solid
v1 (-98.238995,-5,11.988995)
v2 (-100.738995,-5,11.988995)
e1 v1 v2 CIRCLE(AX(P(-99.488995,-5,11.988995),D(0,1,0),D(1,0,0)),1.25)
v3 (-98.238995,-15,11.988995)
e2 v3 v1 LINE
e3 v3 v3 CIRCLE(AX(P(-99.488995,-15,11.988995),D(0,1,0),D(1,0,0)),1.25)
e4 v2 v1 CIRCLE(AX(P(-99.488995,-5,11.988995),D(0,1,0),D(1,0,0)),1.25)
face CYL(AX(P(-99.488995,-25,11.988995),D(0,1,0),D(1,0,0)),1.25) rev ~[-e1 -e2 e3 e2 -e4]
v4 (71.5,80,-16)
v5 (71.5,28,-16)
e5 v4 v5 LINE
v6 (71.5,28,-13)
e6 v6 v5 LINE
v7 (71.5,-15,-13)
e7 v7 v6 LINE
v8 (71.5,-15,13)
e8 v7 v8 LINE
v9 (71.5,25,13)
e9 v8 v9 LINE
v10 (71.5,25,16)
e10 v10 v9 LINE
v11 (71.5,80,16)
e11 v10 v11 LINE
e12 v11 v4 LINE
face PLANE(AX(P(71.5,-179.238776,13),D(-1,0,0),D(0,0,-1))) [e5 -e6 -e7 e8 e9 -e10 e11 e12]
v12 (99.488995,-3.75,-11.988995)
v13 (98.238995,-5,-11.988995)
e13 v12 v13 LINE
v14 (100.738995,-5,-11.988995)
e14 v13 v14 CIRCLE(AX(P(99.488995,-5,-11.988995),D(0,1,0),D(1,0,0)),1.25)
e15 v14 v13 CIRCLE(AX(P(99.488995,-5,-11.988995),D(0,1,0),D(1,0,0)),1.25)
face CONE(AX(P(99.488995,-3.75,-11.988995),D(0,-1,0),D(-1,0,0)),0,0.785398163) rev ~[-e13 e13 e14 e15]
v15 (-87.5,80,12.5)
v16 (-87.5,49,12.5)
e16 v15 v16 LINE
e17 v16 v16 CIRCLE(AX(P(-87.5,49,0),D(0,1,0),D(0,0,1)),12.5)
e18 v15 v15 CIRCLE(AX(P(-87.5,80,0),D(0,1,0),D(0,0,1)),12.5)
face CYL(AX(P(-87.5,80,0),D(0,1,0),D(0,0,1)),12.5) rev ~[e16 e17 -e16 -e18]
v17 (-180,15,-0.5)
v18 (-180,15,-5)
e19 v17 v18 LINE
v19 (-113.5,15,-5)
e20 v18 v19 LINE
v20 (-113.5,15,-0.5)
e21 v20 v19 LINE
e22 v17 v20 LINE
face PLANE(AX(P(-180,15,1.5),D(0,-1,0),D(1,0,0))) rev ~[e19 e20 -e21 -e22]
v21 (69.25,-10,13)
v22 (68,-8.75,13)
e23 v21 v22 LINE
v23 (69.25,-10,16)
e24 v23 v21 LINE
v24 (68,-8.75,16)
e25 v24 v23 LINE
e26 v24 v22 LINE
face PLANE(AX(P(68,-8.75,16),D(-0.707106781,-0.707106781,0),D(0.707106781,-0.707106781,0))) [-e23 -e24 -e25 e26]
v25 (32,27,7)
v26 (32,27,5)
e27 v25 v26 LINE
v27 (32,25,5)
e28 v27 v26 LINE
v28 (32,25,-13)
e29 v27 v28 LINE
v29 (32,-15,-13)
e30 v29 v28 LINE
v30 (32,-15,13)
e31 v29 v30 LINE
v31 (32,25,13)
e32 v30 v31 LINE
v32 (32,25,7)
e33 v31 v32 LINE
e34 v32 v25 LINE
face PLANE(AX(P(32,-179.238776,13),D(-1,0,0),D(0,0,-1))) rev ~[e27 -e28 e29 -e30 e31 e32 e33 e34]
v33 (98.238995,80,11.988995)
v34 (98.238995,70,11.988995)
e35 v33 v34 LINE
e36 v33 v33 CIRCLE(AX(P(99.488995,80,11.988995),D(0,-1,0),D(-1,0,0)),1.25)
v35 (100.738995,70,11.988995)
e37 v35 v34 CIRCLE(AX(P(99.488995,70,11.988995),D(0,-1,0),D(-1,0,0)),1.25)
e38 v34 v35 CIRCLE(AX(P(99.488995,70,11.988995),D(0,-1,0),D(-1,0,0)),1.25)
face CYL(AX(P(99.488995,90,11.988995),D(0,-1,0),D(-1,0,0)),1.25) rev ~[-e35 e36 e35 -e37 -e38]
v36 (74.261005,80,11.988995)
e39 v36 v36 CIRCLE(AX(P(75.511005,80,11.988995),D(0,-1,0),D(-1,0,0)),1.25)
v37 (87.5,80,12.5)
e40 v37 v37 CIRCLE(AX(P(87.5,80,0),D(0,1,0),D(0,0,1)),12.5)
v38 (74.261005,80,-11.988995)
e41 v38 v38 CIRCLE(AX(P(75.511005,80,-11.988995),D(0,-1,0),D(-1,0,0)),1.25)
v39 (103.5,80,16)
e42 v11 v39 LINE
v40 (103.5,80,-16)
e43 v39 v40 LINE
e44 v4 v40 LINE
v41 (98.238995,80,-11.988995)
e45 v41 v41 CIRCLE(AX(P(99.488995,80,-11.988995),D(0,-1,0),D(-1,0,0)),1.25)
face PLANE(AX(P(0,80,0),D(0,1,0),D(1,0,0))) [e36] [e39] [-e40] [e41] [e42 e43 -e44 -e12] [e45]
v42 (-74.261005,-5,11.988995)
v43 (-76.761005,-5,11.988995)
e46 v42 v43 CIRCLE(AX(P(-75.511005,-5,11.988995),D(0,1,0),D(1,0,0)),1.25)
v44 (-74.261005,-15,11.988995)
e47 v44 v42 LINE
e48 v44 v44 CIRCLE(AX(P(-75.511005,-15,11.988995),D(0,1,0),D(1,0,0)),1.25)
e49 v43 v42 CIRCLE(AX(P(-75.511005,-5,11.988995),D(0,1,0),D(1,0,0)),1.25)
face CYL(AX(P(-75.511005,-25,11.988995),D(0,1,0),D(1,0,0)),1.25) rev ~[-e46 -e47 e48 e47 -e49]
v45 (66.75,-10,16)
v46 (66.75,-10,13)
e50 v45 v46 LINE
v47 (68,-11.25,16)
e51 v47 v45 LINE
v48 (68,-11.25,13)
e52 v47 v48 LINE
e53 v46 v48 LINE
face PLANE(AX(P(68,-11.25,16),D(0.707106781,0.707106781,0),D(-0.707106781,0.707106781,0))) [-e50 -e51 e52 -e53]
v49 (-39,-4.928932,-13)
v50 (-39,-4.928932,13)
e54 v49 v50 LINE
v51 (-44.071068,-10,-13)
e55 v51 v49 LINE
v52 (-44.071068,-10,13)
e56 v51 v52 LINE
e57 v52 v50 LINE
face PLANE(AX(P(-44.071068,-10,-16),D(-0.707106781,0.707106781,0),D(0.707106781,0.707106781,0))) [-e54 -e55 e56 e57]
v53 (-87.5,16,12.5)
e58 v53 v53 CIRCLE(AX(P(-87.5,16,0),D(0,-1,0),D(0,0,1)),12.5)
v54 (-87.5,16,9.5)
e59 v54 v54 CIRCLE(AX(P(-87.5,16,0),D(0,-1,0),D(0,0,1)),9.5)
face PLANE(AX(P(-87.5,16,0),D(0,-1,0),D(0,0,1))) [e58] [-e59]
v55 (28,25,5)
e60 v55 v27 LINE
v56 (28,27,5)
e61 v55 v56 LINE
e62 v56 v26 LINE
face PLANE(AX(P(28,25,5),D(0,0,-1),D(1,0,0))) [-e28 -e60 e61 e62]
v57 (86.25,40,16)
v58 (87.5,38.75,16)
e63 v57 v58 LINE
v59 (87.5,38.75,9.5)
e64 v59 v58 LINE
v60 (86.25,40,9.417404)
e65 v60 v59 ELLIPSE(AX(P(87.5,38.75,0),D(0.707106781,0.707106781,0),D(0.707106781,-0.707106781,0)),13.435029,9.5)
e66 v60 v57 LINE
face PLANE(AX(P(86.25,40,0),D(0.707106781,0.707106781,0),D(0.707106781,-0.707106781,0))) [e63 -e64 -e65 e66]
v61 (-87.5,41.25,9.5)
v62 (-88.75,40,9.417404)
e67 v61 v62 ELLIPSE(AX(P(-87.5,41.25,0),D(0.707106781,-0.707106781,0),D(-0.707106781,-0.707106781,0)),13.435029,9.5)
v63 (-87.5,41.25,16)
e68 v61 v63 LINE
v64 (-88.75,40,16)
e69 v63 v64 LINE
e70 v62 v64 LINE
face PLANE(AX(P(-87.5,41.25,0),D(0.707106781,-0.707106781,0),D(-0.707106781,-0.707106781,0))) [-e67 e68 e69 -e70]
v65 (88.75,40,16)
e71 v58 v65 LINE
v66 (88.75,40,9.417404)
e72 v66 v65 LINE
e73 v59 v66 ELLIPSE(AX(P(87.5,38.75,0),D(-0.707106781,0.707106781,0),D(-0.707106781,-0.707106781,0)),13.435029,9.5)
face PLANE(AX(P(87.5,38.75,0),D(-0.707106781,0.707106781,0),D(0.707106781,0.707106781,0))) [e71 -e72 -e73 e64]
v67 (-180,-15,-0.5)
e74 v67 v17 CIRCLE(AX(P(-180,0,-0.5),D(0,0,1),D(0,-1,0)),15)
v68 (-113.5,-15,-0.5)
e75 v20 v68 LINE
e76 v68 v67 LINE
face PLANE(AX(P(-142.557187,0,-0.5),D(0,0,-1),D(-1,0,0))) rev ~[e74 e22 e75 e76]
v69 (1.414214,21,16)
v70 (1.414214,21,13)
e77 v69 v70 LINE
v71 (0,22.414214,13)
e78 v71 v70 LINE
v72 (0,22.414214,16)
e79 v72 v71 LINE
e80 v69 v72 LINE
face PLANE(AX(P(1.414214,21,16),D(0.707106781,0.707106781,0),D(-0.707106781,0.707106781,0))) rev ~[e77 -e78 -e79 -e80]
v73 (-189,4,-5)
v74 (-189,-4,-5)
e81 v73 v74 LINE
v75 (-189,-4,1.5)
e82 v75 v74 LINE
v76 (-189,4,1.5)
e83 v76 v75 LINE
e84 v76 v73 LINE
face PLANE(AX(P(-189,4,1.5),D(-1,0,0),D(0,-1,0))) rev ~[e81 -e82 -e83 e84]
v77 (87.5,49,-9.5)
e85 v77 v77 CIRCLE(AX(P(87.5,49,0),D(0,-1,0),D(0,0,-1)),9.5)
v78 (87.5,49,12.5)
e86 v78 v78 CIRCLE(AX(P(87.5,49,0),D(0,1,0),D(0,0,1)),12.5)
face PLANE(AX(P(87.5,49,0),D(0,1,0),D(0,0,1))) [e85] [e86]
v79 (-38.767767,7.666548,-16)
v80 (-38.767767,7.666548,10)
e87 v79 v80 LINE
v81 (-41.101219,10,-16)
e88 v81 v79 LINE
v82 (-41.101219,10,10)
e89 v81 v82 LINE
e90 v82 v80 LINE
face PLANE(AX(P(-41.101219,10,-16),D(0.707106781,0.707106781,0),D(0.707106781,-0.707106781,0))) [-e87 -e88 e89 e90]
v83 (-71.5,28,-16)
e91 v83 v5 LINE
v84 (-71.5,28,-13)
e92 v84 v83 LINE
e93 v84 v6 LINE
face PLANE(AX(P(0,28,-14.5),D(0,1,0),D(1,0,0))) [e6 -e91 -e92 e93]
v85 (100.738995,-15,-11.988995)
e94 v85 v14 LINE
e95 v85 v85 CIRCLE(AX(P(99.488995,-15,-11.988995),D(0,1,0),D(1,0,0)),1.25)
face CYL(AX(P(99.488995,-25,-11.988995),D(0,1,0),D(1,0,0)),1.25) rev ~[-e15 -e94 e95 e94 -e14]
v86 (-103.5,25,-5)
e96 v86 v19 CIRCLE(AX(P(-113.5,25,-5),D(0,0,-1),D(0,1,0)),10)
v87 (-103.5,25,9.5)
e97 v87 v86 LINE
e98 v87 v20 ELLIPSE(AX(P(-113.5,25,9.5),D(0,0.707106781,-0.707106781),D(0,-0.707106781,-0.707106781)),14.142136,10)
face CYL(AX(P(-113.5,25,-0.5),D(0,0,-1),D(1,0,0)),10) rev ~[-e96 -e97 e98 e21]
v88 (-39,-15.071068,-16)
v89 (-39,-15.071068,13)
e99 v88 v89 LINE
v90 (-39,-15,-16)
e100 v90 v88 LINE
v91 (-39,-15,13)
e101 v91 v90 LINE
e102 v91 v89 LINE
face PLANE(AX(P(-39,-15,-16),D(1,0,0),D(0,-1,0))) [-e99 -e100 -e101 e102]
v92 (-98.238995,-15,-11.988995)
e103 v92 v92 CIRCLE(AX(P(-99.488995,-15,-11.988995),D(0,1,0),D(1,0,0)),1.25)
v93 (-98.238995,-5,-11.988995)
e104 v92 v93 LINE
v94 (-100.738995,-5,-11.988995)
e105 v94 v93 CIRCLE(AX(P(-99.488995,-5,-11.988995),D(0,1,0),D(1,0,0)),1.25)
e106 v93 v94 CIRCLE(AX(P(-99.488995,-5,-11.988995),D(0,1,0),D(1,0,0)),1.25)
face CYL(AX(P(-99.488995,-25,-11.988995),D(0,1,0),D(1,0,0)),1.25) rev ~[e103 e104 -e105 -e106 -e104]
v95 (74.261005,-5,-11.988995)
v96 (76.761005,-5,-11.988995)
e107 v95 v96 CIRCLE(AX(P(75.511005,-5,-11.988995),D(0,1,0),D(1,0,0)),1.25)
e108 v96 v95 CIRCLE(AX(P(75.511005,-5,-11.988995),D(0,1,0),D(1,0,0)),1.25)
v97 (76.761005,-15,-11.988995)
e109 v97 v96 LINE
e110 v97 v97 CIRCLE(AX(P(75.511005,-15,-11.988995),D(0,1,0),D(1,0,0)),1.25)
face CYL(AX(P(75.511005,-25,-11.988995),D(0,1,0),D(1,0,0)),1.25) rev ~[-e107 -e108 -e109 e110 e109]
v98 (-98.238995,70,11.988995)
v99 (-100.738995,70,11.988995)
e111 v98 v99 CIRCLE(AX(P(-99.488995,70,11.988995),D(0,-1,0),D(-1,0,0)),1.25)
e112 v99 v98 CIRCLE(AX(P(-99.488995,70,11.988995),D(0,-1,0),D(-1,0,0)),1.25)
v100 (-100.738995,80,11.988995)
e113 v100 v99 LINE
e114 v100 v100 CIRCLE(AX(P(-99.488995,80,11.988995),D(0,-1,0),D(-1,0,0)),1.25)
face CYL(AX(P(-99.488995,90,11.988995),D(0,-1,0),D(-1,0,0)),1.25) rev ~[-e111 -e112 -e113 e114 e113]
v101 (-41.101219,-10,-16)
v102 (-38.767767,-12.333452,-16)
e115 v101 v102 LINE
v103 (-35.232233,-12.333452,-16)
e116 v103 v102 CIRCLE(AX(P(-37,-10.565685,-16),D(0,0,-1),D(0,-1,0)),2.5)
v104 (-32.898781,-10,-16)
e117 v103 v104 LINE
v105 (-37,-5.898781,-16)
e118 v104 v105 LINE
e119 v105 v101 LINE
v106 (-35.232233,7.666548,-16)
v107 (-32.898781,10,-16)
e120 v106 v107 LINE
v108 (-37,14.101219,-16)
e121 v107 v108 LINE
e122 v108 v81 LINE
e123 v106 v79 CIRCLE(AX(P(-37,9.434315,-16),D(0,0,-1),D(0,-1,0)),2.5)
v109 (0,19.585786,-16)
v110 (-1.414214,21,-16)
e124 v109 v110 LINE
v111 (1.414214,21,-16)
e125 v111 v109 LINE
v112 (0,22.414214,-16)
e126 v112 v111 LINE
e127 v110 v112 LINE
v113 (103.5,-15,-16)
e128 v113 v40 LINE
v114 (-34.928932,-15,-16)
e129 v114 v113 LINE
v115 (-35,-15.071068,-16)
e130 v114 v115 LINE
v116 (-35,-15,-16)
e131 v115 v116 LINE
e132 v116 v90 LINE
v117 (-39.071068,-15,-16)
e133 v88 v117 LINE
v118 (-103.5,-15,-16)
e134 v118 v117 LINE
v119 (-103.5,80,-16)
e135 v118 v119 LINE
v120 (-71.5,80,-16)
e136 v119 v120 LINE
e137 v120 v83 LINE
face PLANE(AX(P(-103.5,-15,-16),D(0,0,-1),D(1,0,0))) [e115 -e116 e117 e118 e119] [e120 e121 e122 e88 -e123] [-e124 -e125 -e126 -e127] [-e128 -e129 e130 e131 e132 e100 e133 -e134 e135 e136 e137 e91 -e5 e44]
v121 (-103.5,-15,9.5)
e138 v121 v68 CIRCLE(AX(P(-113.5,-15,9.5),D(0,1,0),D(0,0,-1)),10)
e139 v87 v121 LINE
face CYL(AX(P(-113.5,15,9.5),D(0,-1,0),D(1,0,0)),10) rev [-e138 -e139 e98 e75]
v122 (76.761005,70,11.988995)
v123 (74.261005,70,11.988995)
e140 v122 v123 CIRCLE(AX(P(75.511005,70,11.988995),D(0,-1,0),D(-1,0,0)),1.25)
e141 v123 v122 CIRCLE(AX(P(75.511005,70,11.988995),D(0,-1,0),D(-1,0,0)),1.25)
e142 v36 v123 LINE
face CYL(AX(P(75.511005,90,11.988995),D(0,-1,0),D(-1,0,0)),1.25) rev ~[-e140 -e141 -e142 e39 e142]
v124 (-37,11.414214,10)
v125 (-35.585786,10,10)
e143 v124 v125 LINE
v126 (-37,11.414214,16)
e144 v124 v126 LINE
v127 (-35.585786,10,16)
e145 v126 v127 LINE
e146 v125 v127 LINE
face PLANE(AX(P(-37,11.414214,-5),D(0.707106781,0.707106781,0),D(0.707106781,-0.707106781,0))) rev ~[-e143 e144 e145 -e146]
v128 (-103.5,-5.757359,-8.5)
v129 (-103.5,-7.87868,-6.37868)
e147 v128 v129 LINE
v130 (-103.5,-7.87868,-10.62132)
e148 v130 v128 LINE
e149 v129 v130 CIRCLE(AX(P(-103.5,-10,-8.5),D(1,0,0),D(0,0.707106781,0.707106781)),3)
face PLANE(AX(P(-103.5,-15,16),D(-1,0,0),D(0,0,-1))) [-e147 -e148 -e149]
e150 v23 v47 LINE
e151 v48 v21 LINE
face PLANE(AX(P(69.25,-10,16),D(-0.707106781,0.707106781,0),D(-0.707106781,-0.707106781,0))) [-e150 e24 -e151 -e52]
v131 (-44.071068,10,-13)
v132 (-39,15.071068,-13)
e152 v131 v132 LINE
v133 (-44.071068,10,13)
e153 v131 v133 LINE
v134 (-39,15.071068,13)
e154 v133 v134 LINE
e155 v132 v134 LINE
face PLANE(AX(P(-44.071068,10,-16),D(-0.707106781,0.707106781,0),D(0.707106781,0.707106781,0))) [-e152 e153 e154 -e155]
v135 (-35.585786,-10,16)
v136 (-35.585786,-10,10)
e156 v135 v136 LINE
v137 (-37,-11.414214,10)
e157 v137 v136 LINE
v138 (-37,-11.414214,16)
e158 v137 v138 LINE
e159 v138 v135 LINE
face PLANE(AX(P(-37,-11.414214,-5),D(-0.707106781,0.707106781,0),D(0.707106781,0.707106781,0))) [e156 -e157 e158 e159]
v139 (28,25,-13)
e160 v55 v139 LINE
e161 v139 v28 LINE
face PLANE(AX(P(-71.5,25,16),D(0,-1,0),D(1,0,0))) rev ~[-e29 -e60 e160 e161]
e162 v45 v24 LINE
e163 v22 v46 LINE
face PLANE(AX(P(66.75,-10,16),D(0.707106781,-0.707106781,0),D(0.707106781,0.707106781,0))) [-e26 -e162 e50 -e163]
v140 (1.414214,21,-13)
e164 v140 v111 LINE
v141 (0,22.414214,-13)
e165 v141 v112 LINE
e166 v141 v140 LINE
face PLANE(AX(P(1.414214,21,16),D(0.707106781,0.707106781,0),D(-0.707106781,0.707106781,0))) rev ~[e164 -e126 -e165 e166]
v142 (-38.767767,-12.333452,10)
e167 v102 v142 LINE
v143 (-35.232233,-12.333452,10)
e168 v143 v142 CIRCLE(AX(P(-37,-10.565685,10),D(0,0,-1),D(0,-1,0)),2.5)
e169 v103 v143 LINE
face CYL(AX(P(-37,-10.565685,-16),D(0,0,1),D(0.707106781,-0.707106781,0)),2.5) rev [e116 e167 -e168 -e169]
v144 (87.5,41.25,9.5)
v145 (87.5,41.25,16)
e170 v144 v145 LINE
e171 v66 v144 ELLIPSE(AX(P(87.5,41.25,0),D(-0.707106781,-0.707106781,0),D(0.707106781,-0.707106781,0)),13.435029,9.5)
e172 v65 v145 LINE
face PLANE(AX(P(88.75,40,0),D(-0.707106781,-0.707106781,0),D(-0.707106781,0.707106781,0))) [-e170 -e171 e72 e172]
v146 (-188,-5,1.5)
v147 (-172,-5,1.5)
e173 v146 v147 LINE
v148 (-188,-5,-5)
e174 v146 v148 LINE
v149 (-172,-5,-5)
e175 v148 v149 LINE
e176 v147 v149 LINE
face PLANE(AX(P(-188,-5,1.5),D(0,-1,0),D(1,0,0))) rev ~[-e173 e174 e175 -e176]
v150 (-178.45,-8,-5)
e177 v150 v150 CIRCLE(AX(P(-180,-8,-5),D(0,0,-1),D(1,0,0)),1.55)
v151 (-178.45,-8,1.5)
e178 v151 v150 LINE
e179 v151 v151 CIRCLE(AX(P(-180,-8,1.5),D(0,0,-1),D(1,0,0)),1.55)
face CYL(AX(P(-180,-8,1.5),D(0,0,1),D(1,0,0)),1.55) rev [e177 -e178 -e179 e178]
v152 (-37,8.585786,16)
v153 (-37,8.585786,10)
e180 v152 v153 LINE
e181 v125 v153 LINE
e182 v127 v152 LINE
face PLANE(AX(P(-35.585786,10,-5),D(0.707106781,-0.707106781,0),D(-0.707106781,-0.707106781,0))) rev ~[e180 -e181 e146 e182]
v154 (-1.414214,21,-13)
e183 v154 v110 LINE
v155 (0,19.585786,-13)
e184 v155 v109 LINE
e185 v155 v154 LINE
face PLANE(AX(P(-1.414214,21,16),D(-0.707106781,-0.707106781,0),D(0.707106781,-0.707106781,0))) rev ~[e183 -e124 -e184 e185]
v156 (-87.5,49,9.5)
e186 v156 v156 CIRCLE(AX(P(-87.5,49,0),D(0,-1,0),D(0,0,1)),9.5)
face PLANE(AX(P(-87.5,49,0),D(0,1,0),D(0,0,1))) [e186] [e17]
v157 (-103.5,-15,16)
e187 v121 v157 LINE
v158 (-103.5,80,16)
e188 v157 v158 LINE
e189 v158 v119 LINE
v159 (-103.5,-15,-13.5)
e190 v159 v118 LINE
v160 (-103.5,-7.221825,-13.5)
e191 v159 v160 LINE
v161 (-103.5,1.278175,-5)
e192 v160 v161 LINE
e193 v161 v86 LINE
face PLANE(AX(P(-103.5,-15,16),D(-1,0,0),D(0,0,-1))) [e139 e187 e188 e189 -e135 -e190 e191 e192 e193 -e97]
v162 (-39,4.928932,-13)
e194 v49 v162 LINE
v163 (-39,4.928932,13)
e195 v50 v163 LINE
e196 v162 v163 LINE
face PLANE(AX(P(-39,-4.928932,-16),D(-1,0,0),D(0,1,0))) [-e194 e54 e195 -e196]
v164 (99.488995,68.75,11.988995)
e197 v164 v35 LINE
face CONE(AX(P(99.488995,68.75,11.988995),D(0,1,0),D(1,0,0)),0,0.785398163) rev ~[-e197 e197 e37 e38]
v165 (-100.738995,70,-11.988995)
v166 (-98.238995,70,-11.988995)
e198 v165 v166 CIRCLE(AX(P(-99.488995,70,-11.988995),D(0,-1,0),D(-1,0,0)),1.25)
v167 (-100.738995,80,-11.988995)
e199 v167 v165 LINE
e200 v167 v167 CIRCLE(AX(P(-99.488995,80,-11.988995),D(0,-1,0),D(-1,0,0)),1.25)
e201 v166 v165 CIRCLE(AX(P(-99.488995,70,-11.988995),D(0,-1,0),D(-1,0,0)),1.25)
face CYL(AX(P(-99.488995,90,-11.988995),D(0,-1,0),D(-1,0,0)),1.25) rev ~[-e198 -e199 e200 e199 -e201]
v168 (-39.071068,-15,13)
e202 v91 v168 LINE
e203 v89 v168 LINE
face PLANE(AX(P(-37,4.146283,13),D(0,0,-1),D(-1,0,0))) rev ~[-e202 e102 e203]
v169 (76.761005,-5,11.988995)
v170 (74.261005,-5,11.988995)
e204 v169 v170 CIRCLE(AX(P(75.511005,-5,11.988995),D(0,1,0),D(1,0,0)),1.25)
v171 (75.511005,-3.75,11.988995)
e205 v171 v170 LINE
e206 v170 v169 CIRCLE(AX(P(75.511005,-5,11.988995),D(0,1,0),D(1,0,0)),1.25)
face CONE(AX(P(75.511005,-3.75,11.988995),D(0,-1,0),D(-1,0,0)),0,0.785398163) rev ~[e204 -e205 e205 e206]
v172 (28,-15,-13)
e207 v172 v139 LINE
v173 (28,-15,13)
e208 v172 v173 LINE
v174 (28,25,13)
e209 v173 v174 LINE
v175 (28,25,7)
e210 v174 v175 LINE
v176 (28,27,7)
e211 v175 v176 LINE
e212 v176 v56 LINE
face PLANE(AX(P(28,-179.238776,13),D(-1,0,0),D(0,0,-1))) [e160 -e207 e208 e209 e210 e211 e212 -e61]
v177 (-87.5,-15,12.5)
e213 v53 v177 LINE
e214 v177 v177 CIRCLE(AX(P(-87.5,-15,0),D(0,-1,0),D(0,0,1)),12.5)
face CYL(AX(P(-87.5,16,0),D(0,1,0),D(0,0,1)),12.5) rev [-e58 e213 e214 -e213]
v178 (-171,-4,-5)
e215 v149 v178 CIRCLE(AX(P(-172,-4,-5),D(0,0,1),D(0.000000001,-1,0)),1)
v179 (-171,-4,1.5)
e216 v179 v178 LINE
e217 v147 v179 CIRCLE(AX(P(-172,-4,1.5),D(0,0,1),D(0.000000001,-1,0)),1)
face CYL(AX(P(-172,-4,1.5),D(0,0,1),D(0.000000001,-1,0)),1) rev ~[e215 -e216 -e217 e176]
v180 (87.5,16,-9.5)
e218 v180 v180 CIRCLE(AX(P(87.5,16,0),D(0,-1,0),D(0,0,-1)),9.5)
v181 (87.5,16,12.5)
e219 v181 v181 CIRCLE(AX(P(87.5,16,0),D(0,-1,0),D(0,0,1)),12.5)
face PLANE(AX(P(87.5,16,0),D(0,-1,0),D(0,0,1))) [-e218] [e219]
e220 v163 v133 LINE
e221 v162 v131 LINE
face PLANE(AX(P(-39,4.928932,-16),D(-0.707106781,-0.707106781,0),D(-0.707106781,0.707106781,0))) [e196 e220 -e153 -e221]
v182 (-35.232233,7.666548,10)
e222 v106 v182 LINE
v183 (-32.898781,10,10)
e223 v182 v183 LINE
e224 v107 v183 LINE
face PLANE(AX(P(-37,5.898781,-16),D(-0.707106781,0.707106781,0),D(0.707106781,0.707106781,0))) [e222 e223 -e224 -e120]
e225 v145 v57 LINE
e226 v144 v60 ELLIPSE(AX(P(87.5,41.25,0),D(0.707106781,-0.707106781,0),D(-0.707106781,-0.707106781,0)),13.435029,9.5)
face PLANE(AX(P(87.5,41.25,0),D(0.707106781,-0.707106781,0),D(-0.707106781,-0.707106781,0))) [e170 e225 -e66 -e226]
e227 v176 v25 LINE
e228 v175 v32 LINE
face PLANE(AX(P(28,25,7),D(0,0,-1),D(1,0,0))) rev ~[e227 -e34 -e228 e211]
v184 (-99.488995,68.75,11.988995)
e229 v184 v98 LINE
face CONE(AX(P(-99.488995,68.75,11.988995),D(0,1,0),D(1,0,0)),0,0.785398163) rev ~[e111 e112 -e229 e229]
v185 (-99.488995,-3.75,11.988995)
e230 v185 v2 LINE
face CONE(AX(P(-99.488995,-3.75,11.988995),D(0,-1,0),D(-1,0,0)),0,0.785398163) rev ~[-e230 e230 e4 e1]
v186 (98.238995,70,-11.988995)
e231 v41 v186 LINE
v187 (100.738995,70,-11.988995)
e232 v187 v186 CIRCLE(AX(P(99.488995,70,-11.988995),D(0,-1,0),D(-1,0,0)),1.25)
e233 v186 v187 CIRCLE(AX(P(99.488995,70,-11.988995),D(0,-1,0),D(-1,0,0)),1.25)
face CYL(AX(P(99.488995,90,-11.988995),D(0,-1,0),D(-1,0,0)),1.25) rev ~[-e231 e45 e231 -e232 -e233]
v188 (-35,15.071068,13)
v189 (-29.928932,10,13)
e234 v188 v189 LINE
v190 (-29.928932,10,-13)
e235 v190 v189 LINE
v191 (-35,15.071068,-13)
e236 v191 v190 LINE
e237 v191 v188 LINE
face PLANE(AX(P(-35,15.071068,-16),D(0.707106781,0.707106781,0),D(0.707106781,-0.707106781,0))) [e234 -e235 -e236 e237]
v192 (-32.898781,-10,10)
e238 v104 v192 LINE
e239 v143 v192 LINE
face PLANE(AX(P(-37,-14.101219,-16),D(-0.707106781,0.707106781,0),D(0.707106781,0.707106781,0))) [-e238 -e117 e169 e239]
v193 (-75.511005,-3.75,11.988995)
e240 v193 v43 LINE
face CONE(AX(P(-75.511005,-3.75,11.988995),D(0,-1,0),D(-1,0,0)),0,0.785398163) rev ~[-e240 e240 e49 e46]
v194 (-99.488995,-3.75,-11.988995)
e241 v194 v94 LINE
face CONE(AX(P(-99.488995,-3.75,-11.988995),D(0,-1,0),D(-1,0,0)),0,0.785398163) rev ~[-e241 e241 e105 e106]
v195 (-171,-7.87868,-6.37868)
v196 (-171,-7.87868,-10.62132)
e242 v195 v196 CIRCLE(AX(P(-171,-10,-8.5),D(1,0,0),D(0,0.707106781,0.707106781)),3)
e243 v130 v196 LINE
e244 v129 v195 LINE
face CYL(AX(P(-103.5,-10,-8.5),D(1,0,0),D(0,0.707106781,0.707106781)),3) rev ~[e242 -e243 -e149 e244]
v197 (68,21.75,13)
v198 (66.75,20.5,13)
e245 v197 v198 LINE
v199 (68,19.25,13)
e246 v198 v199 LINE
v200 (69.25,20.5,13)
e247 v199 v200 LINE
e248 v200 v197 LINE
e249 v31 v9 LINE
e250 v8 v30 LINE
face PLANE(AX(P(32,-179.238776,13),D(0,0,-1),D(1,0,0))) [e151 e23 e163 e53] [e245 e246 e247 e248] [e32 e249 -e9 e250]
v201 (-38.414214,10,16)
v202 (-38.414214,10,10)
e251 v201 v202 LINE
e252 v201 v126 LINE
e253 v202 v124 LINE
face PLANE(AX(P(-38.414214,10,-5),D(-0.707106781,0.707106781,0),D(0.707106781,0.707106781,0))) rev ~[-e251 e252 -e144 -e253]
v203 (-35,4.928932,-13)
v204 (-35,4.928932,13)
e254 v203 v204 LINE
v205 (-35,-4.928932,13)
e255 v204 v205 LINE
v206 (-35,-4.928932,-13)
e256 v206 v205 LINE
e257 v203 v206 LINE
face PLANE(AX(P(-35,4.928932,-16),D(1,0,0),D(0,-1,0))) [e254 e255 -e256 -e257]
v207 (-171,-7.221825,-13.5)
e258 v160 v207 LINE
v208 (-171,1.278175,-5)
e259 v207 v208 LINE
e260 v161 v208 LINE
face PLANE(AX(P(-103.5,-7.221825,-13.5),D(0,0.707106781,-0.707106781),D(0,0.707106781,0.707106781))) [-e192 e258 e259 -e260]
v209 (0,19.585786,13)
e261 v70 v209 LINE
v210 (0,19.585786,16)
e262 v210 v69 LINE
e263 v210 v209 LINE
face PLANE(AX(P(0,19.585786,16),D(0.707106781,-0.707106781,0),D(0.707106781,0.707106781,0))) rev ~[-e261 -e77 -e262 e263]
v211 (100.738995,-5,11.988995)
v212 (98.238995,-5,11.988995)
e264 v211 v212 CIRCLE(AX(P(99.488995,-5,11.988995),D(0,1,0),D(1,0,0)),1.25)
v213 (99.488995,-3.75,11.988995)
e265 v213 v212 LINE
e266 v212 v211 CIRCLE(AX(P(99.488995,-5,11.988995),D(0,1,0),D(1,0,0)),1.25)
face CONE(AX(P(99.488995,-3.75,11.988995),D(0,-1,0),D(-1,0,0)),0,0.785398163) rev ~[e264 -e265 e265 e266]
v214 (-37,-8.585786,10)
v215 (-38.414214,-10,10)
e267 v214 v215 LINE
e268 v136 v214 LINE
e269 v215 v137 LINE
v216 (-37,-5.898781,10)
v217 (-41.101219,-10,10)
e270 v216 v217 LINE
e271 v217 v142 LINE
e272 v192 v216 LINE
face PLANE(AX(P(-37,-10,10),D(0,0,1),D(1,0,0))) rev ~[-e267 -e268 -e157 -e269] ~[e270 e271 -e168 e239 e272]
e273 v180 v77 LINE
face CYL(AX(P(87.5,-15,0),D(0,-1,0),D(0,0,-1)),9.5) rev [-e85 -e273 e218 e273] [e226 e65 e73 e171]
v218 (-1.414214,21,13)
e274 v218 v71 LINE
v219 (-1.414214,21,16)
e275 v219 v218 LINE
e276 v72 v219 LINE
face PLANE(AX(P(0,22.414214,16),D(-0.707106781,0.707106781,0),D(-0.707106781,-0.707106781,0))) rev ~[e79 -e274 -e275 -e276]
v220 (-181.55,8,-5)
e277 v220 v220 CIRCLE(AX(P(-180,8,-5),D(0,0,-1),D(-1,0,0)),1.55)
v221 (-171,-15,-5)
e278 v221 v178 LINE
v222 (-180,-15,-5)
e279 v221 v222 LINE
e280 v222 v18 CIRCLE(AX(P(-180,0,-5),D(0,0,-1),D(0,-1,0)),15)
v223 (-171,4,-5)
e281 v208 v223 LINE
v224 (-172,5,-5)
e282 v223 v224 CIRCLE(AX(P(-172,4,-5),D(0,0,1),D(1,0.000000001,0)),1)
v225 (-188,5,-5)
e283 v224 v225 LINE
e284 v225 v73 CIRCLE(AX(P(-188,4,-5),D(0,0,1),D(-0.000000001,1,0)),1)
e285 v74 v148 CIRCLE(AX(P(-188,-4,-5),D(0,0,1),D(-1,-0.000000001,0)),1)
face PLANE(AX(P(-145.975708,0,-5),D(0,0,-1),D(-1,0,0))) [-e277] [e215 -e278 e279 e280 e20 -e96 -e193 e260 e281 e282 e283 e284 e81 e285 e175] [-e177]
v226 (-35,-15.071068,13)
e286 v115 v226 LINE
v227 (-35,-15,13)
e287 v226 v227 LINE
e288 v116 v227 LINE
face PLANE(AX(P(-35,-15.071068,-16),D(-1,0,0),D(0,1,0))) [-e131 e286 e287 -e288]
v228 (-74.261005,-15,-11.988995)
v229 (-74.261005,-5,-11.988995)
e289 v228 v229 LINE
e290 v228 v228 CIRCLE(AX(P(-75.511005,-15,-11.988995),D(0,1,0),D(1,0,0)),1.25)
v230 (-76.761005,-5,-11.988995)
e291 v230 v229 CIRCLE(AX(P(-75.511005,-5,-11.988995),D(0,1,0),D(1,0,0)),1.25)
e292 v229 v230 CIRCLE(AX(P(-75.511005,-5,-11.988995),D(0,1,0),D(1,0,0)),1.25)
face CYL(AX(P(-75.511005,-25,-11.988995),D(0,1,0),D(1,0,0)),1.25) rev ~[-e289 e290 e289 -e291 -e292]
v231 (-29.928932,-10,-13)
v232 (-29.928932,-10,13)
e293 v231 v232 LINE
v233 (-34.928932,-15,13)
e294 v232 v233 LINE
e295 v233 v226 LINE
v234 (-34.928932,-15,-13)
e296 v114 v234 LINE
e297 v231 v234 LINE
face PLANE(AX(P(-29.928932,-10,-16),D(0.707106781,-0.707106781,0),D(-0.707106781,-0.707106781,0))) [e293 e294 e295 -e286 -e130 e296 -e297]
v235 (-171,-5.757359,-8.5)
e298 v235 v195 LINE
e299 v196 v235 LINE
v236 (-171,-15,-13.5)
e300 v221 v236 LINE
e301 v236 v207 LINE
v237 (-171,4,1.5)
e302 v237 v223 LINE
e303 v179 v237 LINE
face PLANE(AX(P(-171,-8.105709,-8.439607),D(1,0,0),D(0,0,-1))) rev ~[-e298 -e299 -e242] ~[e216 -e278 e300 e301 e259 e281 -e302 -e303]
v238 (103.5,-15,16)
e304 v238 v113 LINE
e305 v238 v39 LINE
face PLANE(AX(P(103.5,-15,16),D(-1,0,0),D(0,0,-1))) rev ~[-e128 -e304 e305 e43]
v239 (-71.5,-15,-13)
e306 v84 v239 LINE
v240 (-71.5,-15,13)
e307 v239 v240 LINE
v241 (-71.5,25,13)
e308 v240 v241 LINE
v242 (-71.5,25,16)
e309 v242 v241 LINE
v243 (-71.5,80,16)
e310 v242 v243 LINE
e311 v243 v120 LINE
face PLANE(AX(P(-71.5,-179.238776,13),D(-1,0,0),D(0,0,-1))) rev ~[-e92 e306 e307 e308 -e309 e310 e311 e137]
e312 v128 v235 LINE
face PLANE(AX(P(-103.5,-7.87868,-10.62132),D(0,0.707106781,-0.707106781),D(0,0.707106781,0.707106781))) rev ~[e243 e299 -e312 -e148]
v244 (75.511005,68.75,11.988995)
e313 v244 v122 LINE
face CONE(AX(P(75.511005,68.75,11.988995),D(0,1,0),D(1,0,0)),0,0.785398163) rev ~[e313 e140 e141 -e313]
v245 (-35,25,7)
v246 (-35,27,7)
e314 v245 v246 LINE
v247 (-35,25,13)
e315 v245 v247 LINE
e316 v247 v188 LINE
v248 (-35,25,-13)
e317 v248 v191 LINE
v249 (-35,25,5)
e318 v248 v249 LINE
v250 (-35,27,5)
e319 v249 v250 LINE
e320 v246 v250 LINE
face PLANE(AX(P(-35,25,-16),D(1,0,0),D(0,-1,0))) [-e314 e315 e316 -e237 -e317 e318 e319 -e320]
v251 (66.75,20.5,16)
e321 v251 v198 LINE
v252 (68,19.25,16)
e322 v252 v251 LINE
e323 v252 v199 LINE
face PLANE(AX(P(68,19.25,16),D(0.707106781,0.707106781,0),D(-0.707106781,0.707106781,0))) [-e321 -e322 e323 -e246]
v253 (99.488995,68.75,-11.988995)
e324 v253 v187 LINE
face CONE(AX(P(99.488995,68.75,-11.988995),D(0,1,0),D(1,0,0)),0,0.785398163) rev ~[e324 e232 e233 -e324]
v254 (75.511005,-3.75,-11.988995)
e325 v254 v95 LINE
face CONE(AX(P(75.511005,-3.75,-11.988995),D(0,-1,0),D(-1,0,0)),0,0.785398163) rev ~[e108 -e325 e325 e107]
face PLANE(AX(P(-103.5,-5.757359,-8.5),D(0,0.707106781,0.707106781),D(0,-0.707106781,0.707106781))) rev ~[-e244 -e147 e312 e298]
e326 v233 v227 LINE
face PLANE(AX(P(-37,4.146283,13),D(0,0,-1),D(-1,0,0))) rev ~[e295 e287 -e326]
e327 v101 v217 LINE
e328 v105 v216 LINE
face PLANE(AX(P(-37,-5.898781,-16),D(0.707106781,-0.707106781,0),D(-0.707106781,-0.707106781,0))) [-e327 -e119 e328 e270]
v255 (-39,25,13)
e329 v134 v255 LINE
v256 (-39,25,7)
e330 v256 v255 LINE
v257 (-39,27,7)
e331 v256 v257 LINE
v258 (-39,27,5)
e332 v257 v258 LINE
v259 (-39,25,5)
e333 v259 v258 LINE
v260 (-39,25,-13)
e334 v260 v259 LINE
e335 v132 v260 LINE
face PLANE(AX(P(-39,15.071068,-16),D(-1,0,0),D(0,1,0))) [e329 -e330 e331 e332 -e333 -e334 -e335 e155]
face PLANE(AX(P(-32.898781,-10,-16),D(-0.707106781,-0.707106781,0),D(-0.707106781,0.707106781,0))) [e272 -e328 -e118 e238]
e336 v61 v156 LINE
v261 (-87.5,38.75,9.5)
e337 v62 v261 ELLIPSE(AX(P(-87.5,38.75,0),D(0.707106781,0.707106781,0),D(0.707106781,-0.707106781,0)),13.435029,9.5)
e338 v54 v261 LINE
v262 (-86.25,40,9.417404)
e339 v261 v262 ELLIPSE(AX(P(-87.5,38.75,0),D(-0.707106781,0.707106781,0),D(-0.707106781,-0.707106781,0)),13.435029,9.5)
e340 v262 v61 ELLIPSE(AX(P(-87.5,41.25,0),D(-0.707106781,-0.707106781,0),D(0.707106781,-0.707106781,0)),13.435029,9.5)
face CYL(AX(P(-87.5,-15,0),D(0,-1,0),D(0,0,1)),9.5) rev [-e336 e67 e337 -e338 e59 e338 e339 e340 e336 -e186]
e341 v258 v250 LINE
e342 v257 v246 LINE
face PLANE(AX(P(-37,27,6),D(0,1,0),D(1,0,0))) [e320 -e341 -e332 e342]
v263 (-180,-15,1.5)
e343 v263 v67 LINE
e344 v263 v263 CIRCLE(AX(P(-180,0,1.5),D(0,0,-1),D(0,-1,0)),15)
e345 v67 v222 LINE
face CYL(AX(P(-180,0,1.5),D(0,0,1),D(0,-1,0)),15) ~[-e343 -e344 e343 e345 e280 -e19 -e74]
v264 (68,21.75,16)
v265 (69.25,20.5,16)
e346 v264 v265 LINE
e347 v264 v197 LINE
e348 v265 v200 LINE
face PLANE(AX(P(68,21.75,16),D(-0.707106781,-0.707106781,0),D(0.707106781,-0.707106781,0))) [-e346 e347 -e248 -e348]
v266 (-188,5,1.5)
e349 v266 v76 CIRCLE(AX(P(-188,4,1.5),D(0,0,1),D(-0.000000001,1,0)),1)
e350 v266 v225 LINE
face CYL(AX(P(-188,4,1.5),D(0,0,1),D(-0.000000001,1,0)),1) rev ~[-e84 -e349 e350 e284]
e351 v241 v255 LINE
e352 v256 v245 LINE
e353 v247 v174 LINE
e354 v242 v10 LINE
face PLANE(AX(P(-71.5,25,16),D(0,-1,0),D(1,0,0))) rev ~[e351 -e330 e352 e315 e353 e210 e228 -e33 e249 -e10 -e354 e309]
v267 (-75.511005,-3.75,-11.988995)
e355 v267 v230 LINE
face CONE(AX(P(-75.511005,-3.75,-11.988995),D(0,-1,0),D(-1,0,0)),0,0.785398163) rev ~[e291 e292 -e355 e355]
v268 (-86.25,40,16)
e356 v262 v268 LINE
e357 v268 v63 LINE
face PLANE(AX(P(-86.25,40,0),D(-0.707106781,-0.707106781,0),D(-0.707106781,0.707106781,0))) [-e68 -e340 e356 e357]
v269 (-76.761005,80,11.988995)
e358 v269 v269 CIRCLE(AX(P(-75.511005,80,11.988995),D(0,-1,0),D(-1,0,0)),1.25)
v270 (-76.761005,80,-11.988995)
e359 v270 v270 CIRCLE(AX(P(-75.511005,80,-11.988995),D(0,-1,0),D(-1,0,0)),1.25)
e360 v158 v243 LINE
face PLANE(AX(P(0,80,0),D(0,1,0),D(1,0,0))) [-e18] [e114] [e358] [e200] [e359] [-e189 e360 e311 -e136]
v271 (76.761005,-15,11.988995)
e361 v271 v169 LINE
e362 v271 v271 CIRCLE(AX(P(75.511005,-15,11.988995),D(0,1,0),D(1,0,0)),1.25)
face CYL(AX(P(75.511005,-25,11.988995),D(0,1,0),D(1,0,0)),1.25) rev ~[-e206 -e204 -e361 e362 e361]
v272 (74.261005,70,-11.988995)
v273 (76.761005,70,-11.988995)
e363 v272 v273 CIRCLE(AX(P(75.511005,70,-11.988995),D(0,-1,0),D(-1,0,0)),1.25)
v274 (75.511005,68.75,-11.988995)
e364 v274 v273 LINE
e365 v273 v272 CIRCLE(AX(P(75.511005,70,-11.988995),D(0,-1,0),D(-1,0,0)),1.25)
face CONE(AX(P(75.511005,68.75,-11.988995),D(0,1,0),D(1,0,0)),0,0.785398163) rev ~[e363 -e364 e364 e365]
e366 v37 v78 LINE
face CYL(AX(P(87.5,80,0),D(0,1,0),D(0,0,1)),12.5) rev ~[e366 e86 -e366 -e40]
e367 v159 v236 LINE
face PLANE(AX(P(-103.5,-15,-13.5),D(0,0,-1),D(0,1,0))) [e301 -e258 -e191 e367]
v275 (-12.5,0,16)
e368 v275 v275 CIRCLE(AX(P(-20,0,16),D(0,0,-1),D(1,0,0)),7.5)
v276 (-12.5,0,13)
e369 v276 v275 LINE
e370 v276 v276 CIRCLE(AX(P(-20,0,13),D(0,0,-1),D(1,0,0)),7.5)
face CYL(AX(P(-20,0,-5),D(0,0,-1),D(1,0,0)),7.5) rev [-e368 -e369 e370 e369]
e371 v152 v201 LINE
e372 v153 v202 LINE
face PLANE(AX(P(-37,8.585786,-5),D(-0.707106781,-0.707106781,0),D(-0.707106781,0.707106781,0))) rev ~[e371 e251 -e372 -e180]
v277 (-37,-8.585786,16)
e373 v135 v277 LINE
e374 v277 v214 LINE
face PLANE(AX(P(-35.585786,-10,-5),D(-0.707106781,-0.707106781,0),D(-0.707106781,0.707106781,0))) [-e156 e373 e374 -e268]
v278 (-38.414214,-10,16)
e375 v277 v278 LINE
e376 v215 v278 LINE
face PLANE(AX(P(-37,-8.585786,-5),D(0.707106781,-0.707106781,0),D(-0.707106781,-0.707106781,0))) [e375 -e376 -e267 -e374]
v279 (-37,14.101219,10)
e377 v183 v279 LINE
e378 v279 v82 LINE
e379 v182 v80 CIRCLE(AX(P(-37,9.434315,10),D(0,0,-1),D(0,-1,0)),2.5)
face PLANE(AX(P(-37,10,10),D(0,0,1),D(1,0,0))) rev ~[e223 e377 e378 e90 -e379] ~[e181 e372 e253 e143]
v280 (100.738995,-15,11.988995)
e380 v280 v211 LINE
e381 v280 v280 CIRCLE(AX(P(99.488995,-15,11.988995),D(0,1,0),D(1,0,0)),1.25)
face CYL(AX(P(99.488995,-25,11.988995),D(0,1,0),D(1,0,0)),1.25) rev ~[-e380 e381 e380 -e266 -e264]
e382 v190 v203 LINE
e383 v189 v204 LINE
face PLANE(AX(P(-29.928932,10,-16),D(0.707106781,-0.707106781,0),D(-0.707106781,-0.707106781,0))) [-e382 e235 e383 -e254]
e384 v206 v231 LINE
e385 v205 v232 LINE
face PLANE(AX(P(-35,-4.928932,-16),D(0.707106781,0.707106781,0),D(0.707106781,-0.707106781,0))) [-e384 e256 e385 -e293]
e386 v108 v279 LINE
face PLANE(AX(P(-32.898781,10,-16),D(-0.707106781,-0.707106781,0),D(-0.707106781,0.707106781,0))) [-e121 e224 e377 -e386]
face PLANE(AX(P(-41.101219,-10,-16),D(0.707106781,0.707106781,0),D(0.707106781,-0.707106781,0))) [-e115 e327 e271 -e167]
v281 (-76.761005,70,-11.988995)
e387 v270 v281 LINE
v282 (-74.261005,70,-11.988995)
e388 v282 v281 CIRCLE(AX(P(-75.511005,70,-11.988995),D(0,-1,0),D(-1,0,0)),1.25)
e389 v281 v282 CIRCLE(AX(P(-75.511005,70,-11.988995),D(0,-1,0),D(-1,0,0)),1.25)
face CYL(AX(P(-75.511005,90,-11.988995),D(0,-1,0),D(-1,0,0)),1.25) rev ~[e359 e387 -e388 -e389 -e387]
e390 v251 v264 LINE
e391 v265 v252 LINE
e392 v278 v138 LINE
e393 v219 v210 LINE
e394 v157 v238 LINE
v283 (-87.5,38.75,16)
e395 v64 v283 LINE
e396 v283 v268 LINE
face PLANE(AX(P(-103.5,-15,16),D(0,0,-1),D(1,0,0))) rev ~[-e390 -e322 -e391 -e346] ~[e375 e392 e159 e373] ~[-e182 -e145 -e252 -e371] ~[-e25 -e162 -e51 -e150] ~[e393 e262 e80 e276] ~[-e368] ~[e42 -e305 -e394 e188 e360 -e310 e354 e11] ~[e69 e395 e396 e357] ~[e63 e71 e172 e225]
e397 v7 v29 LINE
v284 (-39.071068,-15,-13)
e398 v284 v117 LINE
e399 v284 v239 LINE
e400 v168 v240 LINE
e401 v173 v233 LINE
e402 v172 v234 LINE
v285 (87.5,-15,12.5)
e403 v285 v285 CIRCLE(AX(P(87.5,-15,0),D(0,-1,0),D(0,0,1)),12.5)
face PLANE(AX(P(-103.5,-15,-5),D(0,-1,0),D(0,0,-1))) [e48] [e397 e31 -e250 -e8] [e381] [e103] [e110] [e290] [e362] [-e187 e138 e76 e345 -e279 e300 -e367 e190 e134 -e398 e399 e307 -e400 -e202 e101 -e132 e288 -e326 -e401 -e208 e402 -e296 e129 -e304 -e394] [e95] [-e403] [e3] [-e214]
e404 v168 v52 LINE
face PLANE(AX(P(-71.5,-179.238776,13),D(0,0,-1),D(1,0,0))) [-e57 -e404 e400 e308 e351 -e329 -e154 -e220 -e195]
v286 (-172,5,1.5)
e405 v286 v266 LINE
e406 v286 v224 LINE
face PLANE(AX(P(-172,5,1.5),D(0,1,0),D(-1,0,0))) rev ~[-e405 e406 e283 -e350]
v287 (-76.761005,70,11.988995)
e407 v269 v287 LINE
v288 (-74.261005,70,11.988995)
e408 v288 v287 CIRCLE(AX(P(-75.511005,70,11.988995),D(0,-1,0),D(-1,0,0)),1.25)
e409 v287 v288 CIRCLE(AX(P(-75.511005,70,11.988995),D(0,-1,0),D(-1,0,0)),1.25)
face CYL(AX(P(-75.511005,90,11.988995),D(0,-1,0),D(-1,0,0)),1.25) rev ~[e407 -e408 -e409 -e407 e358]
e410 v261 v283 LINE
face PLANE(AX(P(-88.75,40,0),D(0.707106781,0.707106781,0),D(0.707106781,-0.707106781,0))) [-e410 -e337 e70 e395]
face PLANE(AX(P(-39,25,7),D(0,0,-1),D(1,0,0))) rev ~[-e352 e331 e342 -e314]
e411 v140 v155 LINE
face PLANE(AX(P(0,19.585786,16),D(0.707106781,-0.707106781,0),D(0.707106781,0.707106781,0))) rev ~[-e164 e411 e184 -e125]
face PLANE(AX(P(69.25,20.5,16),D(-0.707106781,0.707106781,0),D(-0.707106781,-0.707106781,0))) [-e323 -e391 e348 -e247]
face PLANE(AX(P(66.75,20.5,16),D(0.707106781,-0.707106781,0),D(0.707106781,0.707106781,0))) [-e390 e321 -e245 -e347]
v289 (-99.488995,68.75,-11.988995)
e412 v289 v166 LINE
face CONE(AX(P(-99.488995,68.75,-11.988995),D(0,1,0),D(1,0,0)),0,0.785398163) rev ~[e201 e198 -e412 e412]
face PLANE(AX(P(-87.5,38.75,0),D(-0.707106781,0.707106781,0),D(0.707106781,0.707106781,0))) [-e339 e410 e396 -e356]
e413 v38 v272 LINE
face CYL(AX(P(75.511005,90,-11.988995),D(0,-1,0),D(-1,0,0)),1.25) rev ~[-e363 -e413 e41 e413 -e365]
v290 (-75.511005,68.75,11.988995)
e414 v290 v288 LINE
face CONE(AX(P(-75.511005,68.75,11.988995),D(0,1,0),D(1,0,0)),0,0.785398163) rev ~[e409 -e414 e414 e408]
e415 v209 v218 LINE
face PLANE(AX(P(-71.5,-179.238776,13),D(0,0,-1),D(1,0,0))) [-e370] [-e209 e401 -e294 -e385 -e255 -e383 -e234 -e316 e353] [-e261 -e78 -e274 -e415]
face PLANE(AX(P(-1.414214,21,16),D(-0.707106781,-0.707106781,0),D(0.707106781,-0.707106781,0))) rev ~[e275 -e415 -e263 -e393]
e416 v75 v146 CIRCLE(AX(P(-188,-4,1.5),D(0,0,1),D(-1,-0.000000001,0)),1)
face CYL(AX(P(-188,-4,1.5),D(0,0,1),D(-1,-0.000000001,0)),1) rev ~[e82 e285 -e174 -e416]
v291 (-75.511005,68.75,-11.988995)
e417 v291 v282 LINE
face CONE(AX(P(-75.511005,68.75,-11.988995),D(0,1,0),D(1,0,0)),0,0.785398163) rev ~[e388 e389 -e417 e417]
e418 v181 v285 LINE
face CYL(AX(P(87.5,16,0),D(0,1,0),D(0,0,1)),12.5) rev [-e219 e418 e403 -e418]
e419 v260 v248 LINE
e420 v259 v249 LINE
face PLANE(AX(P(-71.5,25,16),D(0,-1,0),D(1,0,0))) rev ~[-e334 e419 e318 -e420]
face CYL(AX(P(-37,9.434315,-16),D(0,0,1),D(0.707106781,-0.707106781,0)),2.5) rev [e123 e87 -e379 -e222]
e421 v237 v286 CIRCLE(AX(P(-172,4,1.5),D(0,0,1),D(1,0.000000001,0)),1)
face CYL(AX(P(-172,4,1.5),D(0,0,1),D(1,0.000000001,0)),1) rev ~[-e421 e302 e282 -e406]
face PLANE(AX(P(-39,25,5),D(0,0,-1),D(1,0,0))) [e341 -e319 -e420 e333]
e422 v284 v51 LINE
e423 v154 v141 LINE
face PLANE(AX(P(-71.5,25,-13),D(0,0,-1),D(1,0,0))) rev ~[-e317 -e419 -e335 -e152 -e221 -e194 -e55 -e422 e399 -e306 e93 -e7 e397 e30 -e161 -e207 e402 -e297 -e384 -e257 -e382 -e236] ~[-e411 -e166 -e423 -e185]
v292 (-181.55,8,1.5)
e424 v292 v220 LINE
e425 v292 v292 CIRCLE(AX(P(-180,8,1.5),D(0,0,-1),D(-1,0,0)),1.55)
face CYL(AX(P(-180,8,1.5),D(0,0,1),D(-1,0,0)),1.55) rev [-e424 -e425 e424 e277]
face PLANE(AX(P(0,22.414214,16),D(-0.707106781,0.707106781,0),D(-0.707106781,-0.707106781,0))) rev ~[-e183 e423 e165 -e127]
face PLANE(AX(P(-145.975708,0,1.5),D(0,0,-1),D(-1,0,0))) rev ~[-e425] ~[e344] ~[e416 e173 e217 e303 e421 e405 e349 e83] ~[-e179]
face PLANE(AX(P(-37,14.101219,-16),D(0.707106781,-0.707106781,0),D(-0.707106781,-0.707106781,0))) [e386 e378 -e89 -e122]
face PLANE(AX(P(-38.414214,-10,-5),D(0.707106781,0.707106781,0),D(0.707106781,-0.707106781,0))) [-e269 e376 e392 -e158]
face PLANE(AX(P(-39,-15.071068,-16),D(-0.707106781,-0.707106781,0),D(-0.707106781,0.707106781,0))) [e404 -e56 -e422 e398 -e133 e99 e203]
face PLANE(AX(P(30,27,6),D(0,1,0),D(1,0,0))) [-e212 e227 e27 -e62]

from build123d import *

# Parameters (mm, degrees)
AUFSATZ_LINEAR_AUSTRAGEN1_DEPTH      = 80
AUFSATZ_LINEAR_AUSTRAGEN1_DEPTH_BACK = 15
SKIZZE1_W                            = 207
SKIZZE1_H                            = 32
SKIZZE1_R                            = 9.5
SKIZZE2_R                            = 12.5
SCHNITT_LINEAR_AUSTRAGEN1_DEPTH      = 31
SCHNITT_LINEAR_START                 = -31
SKIZZE3_R                            = 12.5
SCHNITT_LINEAR_AUSTRAGEN2_DEPTH      = 31
SCHNITT_LINEAR_AUSTRAGEN3_DEPTH      = 132.788656568
SCHNITT_LINEAR_AUSTRAGEN3_DEPTH_BACK = 5
SKIZZE4_R                            = 7.5
SKIZZE6_W                            = 143
SKIZZE6_H                            = 55
SCHNITT_LINEAR_AUSTRAGEN5_DEPTH      = 135.670895148
AUFSATZ_LINEAR_AUSTRAGEN2_DEPTH      = 5
AUFSATZ_LINEAR_AUSTRAGEN2_DEPTH_BACK = 1.5
SKIZZE5_R                            = 1.55
SCHNITT_LINEAR_AUSTRAGEN6_DEPTH      = 204.238775828
SCHNITT_LINEAR_AUSTRAGEN6_DEPTH_BACK = 204.238775828
SKIZZE8_W                            = 99.5
SKIZZE8_H                            = 26
SKIZZE8_W_2                          = 39.5
F_2_5_2_5_DURCHMESSER_BOHRUNG2_D     = 2.5
F_2_5_2_5_DURCHMESSER_BOHRUNG2_DEPTH = 10
F_2_5_2_5_DURCHMESSER_BOHRUNG2_TIP   = 1.25
F_2_5_2_5_DURCHMESSER_BOHRUNG1_D     = 2.5
F_2_5_2_5_DURCHMESSER_BOHRUNG1_DEPTH = 10
F_2_5_2_5_DURCHMESSER_BOHRUNG1_TIP   = 1.25
SCHNITT_LINEAR_AUSTRAGEN7_DEPTH      = 2
AUFSATZ_LINEAR_AUSTRAGEN3_DEPTH      = 67.5
SCHNITT_LINEAR_AUSTRAGEN8_DEPTH      = 12
AUFSATZ_LINEAR_AUSTRAGEN4_DEPTH      = 29
SCHNITT_LINEAR_AUSTRAGEN9_DEPTH      = 26
VERRUNDUNG1_R                        = 10
SKIZZE20_W                           = 143
SKIZZE20_H                           = 3
AUFSATZ_LINEAR_AUSTRAGEN5_DEPTH      = 3
SCHNITT_LINEAR_AUSTRAGEN10_DEPTH     = 214.187710715
SCHNITT_LINEAR_AUSTRAGEN11_DEPTH     = 212.378806885
VERRUNDUNG2_R                        = 2.5
SKIZZE23_W                           = 4
SKIZZE23_H                           = 2
AUFSATZ_LINEAR_AUSTRAGEN6_DEPTH      = 2


with BuildPart() as part:
    # Skizze1 → Aufsatz-Linear austragen1 (new, two sides: drawn at the far end of the back side and taken through both)
    with BuildSketch(Plane(origin=(0, 0, 0), x_dir=(1, 0, 0), z_dir=(0, 1, 0)).offset(-AUFSATZ_LINEAR_AUSTRAGEN1_DEPTH_BACK)):
        Rectangle(SKIZZE1_W, SKIZZE1_H)
        with Locations(Location((-87.5, 0, 0), (0, 0, 270))):
            Circle(SKIZZE1_R, mode=Mode.SUBTRACT)
        with Locations(Location((87.5, 0, 0), (0, 0, 90))):
            Circle(SKIZZE1_R, mode=Mode.SUBTRACT)
    extrude(amount=AUFSATZ_LINEAR_AUSTRAGEN1_DEPTH + AUFSATZ_LINEAR_AUSTRAGEN1_DEPTH_BACK)

    # Skizze2 → Schnitt-Linear austragen1 (cut)
    with BuildSketch(Plane(origin=(0, 80, 0), x_dir=(1, 0, 0), z_dir=(0, 1, 0))):
        with Locations(Location((-87.5, 0, 0), (0, 0, 270))):
            Circle(SKIZZE2_R)
        with Locations(Location((87.5, 0, 0), (0, 0, 270))):
            Circle(SKIZZE2_R)
    extrude(amount=-SCHNITT_LINEAR_AUSTRAGEN1_DEPTH, mode=Mode.SUBTRACT)

    # Skizze3 → Schnitt-Linear austragen2 (cut)
    with BuildSketch(Plane.XZ.offset(15).offset(SCHNITT_LINEAR_START)):
        with Locations(Location((-87.5, 0, 0), (0, 0, 90))):
            Circle(SKIZZE3_R)
        with Locations(Location((87.5, 0, 0), (0, 0, 90))):
            Circle(SKIZZE3_R)
    extrude(amount=SCHNITT_LINEAR_AUSTRAGEN2_DEPTH, mode=Mode.SUBTRACT)

    # Skizze4 → Schnitt-Linear austragen3 (cut, two sides: drawn at the far end of the back side and taken through both)
    with BuildSketch(Plane.XY.offset(-SCHNITT_LINEAR_AUSTRAGEN3_DEPTH_BACK)):
        with Locations((-20, 0)):
            Circle(SKIZZE4_R)
        Polygon((-38.414213562, 10), (-37, 11.414213562), (-35.585786438, 10), (-37, 8.585786438), align=None)
        Polygon((-35.585786438, -10), (-37, -8.585786438), (-38.414213562, -10), (-37, -11.414213562), align=None)
    extrude(amount=SCHNITT_LINEAR_AUSTRAGEN3_DEPTH + SCHNITT_LINEAR_AUSTRAGEN3_DEPTH_BACK, mode=Mode.SUBTRACT)

    # Skizze6 → Schnitt-Linear austragen5 (cut, through all)
    with BuildSketch(Plane.XY.offset(16)):
        with Locations((0, 52.5)):
            Rectangle(SKIZZE6_W, SKIZZE6_H)
    extrude(amount=-SCHNITT_LINEAR_AUSTRAGEN5_DEPTH, mode=Mode.SUBTRACT)

    # Skizze5 → Aufsatz-Linear austragen2 (add, two sides: drawn at the far end of the back side and taken through both)
    with BuildSketch(Plane(origin=(0, 0, 0), x_dir=(-1, 0, 0), z_dir=(0, 0, -1)).offset(-AUFSATZ_LINEAR_AUSTRAGEN2_DEPTH_BACK)):
        with BuildLine():
            Line((180, 15), (103.5, 15))
            Line((103.5, 15), (103.5, -15))
            Line((103.5, -15), (180, -15))
            ThreePointArc((180, -15), (195, 0), (180, 15))
        make_face()
        with Locations((180, 8)):
            Circle(SKIZZE5_R, mode=Mode.SUBTRACT)
        with Locations(Location((180, -8, 0), (0, 0, 180))):
            Circle(SKIZZE5_R, mode=Mode.SUBTRACT)
        with BuildLine():
            Line((171, -4), (171, 4))
            ThreePointArc((171, 4), (171.292893219, 4.707106781), (172, 5))
            Line((172, 5), (188, 5))
            ThreePointArc((188, 5), (188.707106781, 4.707106781), (189, 4))
            Line((189, 4), (189, -4))
            ThreePointArc((189, -4), (188.707106781, -4.707106781), (188, -5))
            Line((188, -5), (172, -5))
            ThreePointArc((172, -5), (171.292893219, -4.707106781), (171, -4))
        make_face(mode=Mode.SUBTRACT)
    extrude(amount=AUFSATZ_LINEAR_AUSTRAGEN2_DEPTH + AUFSATZ_LINEAR_AUSTRAGEN2_DEPTH_BACK)

    # Skizze8 → Schnitt-Linear austragen6 (cut, two sides: drawn at the far end of the back side and taken through both)
    with BuildSketch(Plane(origin=(0, 25, 0), x_dir=(1, 0, 0), z_dir=(0, 1, 0)).offset(-SCHNITT_LINEAR_AUSTRAGEN6_DEPTH_BACK)):
        with Locations((-21.75, 0)):
            Rectangle(SKIZZE8_W, SKIZZE8_H)
        with Locations((51.75, 0)):
            Rectangle(SKIZZE8_W_2, SKIZZE8_H)
    extrude(amount=SCHNITT_LINEAR_AUSTRAGEN6_DEPTH + SCHNITT_LINEAR_AUSTRAGEN6_DEPTH_BACK, mode=Mode.SUBTRACT)

    # Ø2.5 (2.5) Durchmesser Bohrung2
    with Locations(Plane(origin=(0, 80, 0), x_dir=(1, 0, 0), z_dir=(0, 1, 0))):
        with Locations((75.511004525, -11.988995475), (99.488995475, -11.988995475), (75.511004525, 11.988995475), (99.488995475, 11.988995475), (-75.511004525, 11.988995475), (-99.488995475, 11.988995475), (-75.511004525, -11.988995475), (-99.488995475, -11.988995475)):
            Hole(F_2_5_2_5_DURCHMESSER_BOHRUNG2_D / 2, depth=F_2_5_2_5_DURCHMESSER_BOHRUNG2_DEPTH)
            with Locations((0, 0, -(F_2_5_2_5_DURCHMESSER_BOHRUNG2_DEPTH + F_2_5_2_5_DURCHMESSER_BOHRUNG2_TIP / 2))):  # 90° drill point
                Cone(0, F_2_5_2_5_DURCHMESSER_BOHRUNG2_D / 2, F_2_5_2_5_DURCHMESSER_BOHRUNG2_TIP, mode=Mode.SUBTRACT)

    # Ø2.5 (2.5) Durchmesser Bohrung1
    with Locations(Plane(origin=(0, -15, 0), x_dir=(-1, 0, 0), z_dir=(0, -1, 0))):
        with Locations((-75.511004525, 11.988995475), (-99.488995475, 11.988995475), (-99.488995475, -11.988995475), (-75.511004525, -11.988995475), (75.511004525, 11.988995475), (99.488995475, 11.988995475), (75.511004525, -11.988995475), (99.488995475, -11.988995475)):
            Hole(F_2_5_2_5_DURCHMESSER_BOHRUNG1_D / 2, depth=F_2_5_2_5_DURCHMESSER_BOHRUNG1_DEPTH)
            with Locations((0, 0, -(F_2_5_2_5_DURCHMESSER_BOHRUNG1_DEPTH + F_2_5_2_5_DURCHMESSER_BOHRUNG1_TIP / 2))):  # 90° drill point
                Cone(0, F_2_5_2_5_DURCHMESSER_BOHRUNG1_D / 2, F_2_5_2_5_DURCHMESSER_BOHRUNG1_TIP, mode=Mode.SUBTRACT)

    # Skizze13 → Schnitt-Linear austragen7 (cut)
    with BuildSketch(Plane.XY.offset(1.5)):
        with BuildLine():
            Line((-180, 15), (-103.5, 15))
            Line((-103.5, 15), (-103.5, -15))
            Line((-103.5, -15), (-180, -15))
            ThreePointArc((-180, -15), (-165, 0), (-180, 15))
        make_face()
    extrude(amount=-SCHNITT_LINEAR_AUSTRAGEN7_DEPTH, mode=Mode.SUBTRACT)

    # Skizze14 → Aufsatz-Linear austragen3 (add)
    with BuildSketch(Plane.ZY.offset(103.5)):
        Polygon((-5, -15), (-13.5, -15), (-13.5, -7.221825407), (-5, 1.278174593), (-5, 1.222837222), align=None)
        with BuildLine():
            Line((-10.621320344, -7.878679656), (-8.5, -5.757359313))
            Line((-8.5, -5.757359313), (-6.378679656, -7.878679656))
            ThreePointArc((-6.378679656, -7.878679656), (-8.5, -13), (-10.621320344, -7.878679656))
        make_face(mode=Mode.SUBTRACT)
    extrude(amount=AUFSATZ_LINEAR_AUSTRAGEN3_DEPTH)

    # Skizze15 → Schnitt-Linear austragen8 (cut)
    with BuildSketch(Plane.XY.offset(16)):
        Polygon((66.75, 20.5), (68, 21.75), (69.25, 20.5), (68, 19.25), align=None)
        Polygon((68, -8.75), (69.25, -10), (68, -11.25), (66.75, -10), align=None)
    extrude(amount=-SCHNITT_LINEAR_AUSTRAGEN8_DEPTH, mode=Mode.SUBTRACT)

    # Skizze17 → Aufsatz-Linear austragen4 (add)
    with BuildSketch(Plane(origin=(0, 0, -16), x_dir=(-1, 0, 0), z_dir=(0, 0, -1))):
        Polygon((39, 25), (35, 25), (35, 15.071067812), (29.928932188, 10), (35, 4.928932188), (35, -4.928932188), (29.928932188, -10), (35, -15.071067812), (35, -15), (39, -15), (39, -15.071067812), (44.071067812, -10), (39, -4.928932188), (39, 4.928932188), (44.071067812, 10), (39, 15.071067812), align=None)
        Polygon((37, 11.414213562), (35.585786438, 10), (37, 8.585786438), (38.414213562, 10), align=None, mode=Mode.SUBTRACT)
        Polygon((37, -8.585786438), (38.414213562, -10), (37, -11.414213562), (35.585786438, -10), align=None, mode=Mode.SUBTRACT)
    extrude(amount=-AUFSATZ_LINEAR_AUSTRAGEN4_DEPTH)

    # Skizze18 → Schnitt-Linear austragen9 (cut)
    with BuildSketch(Plane(origin=(0, 0, -16), x_dir=(-1, 0, 0), z_dir=(0, 0, -1))):
        Polygon((32.898780669, 10), (37, 14.101219331), (41.101219331, 10), (37, 5.898780669), align=None)
        Polygon((32.898780669, -10), (37, -5.898780669), (41.101219331, -10), (37, -14.101219331), align=None)
    extrude(amount=-SCHNITT_LINEAR_AUSTRAGEN9_DEPTH, mode=Mode.SUBTRACT)

    # Verrundung1
    verrundung1_edges = [part.edges().sort_by_distance(p)[0] for p in [
        (-103.5, 15, -2.75),
        (-103.5, 0, -0.5),
    ]]
    fillet(verrundung1_edges, radius=VERRUNDUNG1_R)

    # Skizze20 → Aufsatz-Linear austragen5 (add)
    with BuildSketch(Plane(origin=(0, 25, 0), x_dir=(1, 0, 0), z_dir=(0, 1, 0))):
        with Locations((0, 14.5)):
            Rectangle(SKIZZE20_W, SKIZZE20_H)
    extrude(amount=AUFSATZ_LINEAR_AUSTRAGEN5_DEPTH)

    # Skizze21 → Schnitt-Linear austragen10 (cut, through all)
    with BuildSketch(Plane.XY.offset(16)):
        Polygon((0, 22.414213562), (-1.414213562, 21), (0, 19.585786438), (1.414213562, 21), align=None)
    extrude(amount=-SCHNITT_LINEAR_AUSTRAGEN10_DEPTH, mode=Mode.SUBTRACT)

    # Skizze22 → Schnitt-Linear austragen11 (cut, through all)
    with BuildSketch(Plane.XY):
        Polygon((-87.5, 41.25), (-88.75, 40), (-87.5, 38.75), (-86.25, 40), align=None)
        Polygon((87.5, 41.25), (86.25, 40), (87.5, 38.75), (88.75, 40), align=None)
    extrude(amount=SCHNITT_LINEAR_AUSTRAGEN11_DEPTH, mode=Mode.SUBTRACT)

    # Verrundung2
    verrundung2_edges = [part.edges().sort_by_distance(p)[0] for p in [
        (-37, 5.898780669, -3),
        (-37, -14.101219331, -3),
    ]]
    fillet(verrundung2_edges, radius=VERRUNDUNG2_R)

    # Skizze23 → Aufsatz-Linear austragen6 (add)
    with BuildSketch(Plane(origin=(0, 25, 0), x_dir=(1, 0, 0), z_dir=(0, 1, 0))):
        with Locations((-37, -6)):
            Rectangle(SKIZZE23_W, SKIZZE23_H)
        with Locations((30, -6)):
            Rectangle(SKIZZE23_W, SKIZZE23_H)
    extrude(amount=AUFSATZ_LINEAR_AUSTRAGEN6_DEPTH)


solid = part.part
